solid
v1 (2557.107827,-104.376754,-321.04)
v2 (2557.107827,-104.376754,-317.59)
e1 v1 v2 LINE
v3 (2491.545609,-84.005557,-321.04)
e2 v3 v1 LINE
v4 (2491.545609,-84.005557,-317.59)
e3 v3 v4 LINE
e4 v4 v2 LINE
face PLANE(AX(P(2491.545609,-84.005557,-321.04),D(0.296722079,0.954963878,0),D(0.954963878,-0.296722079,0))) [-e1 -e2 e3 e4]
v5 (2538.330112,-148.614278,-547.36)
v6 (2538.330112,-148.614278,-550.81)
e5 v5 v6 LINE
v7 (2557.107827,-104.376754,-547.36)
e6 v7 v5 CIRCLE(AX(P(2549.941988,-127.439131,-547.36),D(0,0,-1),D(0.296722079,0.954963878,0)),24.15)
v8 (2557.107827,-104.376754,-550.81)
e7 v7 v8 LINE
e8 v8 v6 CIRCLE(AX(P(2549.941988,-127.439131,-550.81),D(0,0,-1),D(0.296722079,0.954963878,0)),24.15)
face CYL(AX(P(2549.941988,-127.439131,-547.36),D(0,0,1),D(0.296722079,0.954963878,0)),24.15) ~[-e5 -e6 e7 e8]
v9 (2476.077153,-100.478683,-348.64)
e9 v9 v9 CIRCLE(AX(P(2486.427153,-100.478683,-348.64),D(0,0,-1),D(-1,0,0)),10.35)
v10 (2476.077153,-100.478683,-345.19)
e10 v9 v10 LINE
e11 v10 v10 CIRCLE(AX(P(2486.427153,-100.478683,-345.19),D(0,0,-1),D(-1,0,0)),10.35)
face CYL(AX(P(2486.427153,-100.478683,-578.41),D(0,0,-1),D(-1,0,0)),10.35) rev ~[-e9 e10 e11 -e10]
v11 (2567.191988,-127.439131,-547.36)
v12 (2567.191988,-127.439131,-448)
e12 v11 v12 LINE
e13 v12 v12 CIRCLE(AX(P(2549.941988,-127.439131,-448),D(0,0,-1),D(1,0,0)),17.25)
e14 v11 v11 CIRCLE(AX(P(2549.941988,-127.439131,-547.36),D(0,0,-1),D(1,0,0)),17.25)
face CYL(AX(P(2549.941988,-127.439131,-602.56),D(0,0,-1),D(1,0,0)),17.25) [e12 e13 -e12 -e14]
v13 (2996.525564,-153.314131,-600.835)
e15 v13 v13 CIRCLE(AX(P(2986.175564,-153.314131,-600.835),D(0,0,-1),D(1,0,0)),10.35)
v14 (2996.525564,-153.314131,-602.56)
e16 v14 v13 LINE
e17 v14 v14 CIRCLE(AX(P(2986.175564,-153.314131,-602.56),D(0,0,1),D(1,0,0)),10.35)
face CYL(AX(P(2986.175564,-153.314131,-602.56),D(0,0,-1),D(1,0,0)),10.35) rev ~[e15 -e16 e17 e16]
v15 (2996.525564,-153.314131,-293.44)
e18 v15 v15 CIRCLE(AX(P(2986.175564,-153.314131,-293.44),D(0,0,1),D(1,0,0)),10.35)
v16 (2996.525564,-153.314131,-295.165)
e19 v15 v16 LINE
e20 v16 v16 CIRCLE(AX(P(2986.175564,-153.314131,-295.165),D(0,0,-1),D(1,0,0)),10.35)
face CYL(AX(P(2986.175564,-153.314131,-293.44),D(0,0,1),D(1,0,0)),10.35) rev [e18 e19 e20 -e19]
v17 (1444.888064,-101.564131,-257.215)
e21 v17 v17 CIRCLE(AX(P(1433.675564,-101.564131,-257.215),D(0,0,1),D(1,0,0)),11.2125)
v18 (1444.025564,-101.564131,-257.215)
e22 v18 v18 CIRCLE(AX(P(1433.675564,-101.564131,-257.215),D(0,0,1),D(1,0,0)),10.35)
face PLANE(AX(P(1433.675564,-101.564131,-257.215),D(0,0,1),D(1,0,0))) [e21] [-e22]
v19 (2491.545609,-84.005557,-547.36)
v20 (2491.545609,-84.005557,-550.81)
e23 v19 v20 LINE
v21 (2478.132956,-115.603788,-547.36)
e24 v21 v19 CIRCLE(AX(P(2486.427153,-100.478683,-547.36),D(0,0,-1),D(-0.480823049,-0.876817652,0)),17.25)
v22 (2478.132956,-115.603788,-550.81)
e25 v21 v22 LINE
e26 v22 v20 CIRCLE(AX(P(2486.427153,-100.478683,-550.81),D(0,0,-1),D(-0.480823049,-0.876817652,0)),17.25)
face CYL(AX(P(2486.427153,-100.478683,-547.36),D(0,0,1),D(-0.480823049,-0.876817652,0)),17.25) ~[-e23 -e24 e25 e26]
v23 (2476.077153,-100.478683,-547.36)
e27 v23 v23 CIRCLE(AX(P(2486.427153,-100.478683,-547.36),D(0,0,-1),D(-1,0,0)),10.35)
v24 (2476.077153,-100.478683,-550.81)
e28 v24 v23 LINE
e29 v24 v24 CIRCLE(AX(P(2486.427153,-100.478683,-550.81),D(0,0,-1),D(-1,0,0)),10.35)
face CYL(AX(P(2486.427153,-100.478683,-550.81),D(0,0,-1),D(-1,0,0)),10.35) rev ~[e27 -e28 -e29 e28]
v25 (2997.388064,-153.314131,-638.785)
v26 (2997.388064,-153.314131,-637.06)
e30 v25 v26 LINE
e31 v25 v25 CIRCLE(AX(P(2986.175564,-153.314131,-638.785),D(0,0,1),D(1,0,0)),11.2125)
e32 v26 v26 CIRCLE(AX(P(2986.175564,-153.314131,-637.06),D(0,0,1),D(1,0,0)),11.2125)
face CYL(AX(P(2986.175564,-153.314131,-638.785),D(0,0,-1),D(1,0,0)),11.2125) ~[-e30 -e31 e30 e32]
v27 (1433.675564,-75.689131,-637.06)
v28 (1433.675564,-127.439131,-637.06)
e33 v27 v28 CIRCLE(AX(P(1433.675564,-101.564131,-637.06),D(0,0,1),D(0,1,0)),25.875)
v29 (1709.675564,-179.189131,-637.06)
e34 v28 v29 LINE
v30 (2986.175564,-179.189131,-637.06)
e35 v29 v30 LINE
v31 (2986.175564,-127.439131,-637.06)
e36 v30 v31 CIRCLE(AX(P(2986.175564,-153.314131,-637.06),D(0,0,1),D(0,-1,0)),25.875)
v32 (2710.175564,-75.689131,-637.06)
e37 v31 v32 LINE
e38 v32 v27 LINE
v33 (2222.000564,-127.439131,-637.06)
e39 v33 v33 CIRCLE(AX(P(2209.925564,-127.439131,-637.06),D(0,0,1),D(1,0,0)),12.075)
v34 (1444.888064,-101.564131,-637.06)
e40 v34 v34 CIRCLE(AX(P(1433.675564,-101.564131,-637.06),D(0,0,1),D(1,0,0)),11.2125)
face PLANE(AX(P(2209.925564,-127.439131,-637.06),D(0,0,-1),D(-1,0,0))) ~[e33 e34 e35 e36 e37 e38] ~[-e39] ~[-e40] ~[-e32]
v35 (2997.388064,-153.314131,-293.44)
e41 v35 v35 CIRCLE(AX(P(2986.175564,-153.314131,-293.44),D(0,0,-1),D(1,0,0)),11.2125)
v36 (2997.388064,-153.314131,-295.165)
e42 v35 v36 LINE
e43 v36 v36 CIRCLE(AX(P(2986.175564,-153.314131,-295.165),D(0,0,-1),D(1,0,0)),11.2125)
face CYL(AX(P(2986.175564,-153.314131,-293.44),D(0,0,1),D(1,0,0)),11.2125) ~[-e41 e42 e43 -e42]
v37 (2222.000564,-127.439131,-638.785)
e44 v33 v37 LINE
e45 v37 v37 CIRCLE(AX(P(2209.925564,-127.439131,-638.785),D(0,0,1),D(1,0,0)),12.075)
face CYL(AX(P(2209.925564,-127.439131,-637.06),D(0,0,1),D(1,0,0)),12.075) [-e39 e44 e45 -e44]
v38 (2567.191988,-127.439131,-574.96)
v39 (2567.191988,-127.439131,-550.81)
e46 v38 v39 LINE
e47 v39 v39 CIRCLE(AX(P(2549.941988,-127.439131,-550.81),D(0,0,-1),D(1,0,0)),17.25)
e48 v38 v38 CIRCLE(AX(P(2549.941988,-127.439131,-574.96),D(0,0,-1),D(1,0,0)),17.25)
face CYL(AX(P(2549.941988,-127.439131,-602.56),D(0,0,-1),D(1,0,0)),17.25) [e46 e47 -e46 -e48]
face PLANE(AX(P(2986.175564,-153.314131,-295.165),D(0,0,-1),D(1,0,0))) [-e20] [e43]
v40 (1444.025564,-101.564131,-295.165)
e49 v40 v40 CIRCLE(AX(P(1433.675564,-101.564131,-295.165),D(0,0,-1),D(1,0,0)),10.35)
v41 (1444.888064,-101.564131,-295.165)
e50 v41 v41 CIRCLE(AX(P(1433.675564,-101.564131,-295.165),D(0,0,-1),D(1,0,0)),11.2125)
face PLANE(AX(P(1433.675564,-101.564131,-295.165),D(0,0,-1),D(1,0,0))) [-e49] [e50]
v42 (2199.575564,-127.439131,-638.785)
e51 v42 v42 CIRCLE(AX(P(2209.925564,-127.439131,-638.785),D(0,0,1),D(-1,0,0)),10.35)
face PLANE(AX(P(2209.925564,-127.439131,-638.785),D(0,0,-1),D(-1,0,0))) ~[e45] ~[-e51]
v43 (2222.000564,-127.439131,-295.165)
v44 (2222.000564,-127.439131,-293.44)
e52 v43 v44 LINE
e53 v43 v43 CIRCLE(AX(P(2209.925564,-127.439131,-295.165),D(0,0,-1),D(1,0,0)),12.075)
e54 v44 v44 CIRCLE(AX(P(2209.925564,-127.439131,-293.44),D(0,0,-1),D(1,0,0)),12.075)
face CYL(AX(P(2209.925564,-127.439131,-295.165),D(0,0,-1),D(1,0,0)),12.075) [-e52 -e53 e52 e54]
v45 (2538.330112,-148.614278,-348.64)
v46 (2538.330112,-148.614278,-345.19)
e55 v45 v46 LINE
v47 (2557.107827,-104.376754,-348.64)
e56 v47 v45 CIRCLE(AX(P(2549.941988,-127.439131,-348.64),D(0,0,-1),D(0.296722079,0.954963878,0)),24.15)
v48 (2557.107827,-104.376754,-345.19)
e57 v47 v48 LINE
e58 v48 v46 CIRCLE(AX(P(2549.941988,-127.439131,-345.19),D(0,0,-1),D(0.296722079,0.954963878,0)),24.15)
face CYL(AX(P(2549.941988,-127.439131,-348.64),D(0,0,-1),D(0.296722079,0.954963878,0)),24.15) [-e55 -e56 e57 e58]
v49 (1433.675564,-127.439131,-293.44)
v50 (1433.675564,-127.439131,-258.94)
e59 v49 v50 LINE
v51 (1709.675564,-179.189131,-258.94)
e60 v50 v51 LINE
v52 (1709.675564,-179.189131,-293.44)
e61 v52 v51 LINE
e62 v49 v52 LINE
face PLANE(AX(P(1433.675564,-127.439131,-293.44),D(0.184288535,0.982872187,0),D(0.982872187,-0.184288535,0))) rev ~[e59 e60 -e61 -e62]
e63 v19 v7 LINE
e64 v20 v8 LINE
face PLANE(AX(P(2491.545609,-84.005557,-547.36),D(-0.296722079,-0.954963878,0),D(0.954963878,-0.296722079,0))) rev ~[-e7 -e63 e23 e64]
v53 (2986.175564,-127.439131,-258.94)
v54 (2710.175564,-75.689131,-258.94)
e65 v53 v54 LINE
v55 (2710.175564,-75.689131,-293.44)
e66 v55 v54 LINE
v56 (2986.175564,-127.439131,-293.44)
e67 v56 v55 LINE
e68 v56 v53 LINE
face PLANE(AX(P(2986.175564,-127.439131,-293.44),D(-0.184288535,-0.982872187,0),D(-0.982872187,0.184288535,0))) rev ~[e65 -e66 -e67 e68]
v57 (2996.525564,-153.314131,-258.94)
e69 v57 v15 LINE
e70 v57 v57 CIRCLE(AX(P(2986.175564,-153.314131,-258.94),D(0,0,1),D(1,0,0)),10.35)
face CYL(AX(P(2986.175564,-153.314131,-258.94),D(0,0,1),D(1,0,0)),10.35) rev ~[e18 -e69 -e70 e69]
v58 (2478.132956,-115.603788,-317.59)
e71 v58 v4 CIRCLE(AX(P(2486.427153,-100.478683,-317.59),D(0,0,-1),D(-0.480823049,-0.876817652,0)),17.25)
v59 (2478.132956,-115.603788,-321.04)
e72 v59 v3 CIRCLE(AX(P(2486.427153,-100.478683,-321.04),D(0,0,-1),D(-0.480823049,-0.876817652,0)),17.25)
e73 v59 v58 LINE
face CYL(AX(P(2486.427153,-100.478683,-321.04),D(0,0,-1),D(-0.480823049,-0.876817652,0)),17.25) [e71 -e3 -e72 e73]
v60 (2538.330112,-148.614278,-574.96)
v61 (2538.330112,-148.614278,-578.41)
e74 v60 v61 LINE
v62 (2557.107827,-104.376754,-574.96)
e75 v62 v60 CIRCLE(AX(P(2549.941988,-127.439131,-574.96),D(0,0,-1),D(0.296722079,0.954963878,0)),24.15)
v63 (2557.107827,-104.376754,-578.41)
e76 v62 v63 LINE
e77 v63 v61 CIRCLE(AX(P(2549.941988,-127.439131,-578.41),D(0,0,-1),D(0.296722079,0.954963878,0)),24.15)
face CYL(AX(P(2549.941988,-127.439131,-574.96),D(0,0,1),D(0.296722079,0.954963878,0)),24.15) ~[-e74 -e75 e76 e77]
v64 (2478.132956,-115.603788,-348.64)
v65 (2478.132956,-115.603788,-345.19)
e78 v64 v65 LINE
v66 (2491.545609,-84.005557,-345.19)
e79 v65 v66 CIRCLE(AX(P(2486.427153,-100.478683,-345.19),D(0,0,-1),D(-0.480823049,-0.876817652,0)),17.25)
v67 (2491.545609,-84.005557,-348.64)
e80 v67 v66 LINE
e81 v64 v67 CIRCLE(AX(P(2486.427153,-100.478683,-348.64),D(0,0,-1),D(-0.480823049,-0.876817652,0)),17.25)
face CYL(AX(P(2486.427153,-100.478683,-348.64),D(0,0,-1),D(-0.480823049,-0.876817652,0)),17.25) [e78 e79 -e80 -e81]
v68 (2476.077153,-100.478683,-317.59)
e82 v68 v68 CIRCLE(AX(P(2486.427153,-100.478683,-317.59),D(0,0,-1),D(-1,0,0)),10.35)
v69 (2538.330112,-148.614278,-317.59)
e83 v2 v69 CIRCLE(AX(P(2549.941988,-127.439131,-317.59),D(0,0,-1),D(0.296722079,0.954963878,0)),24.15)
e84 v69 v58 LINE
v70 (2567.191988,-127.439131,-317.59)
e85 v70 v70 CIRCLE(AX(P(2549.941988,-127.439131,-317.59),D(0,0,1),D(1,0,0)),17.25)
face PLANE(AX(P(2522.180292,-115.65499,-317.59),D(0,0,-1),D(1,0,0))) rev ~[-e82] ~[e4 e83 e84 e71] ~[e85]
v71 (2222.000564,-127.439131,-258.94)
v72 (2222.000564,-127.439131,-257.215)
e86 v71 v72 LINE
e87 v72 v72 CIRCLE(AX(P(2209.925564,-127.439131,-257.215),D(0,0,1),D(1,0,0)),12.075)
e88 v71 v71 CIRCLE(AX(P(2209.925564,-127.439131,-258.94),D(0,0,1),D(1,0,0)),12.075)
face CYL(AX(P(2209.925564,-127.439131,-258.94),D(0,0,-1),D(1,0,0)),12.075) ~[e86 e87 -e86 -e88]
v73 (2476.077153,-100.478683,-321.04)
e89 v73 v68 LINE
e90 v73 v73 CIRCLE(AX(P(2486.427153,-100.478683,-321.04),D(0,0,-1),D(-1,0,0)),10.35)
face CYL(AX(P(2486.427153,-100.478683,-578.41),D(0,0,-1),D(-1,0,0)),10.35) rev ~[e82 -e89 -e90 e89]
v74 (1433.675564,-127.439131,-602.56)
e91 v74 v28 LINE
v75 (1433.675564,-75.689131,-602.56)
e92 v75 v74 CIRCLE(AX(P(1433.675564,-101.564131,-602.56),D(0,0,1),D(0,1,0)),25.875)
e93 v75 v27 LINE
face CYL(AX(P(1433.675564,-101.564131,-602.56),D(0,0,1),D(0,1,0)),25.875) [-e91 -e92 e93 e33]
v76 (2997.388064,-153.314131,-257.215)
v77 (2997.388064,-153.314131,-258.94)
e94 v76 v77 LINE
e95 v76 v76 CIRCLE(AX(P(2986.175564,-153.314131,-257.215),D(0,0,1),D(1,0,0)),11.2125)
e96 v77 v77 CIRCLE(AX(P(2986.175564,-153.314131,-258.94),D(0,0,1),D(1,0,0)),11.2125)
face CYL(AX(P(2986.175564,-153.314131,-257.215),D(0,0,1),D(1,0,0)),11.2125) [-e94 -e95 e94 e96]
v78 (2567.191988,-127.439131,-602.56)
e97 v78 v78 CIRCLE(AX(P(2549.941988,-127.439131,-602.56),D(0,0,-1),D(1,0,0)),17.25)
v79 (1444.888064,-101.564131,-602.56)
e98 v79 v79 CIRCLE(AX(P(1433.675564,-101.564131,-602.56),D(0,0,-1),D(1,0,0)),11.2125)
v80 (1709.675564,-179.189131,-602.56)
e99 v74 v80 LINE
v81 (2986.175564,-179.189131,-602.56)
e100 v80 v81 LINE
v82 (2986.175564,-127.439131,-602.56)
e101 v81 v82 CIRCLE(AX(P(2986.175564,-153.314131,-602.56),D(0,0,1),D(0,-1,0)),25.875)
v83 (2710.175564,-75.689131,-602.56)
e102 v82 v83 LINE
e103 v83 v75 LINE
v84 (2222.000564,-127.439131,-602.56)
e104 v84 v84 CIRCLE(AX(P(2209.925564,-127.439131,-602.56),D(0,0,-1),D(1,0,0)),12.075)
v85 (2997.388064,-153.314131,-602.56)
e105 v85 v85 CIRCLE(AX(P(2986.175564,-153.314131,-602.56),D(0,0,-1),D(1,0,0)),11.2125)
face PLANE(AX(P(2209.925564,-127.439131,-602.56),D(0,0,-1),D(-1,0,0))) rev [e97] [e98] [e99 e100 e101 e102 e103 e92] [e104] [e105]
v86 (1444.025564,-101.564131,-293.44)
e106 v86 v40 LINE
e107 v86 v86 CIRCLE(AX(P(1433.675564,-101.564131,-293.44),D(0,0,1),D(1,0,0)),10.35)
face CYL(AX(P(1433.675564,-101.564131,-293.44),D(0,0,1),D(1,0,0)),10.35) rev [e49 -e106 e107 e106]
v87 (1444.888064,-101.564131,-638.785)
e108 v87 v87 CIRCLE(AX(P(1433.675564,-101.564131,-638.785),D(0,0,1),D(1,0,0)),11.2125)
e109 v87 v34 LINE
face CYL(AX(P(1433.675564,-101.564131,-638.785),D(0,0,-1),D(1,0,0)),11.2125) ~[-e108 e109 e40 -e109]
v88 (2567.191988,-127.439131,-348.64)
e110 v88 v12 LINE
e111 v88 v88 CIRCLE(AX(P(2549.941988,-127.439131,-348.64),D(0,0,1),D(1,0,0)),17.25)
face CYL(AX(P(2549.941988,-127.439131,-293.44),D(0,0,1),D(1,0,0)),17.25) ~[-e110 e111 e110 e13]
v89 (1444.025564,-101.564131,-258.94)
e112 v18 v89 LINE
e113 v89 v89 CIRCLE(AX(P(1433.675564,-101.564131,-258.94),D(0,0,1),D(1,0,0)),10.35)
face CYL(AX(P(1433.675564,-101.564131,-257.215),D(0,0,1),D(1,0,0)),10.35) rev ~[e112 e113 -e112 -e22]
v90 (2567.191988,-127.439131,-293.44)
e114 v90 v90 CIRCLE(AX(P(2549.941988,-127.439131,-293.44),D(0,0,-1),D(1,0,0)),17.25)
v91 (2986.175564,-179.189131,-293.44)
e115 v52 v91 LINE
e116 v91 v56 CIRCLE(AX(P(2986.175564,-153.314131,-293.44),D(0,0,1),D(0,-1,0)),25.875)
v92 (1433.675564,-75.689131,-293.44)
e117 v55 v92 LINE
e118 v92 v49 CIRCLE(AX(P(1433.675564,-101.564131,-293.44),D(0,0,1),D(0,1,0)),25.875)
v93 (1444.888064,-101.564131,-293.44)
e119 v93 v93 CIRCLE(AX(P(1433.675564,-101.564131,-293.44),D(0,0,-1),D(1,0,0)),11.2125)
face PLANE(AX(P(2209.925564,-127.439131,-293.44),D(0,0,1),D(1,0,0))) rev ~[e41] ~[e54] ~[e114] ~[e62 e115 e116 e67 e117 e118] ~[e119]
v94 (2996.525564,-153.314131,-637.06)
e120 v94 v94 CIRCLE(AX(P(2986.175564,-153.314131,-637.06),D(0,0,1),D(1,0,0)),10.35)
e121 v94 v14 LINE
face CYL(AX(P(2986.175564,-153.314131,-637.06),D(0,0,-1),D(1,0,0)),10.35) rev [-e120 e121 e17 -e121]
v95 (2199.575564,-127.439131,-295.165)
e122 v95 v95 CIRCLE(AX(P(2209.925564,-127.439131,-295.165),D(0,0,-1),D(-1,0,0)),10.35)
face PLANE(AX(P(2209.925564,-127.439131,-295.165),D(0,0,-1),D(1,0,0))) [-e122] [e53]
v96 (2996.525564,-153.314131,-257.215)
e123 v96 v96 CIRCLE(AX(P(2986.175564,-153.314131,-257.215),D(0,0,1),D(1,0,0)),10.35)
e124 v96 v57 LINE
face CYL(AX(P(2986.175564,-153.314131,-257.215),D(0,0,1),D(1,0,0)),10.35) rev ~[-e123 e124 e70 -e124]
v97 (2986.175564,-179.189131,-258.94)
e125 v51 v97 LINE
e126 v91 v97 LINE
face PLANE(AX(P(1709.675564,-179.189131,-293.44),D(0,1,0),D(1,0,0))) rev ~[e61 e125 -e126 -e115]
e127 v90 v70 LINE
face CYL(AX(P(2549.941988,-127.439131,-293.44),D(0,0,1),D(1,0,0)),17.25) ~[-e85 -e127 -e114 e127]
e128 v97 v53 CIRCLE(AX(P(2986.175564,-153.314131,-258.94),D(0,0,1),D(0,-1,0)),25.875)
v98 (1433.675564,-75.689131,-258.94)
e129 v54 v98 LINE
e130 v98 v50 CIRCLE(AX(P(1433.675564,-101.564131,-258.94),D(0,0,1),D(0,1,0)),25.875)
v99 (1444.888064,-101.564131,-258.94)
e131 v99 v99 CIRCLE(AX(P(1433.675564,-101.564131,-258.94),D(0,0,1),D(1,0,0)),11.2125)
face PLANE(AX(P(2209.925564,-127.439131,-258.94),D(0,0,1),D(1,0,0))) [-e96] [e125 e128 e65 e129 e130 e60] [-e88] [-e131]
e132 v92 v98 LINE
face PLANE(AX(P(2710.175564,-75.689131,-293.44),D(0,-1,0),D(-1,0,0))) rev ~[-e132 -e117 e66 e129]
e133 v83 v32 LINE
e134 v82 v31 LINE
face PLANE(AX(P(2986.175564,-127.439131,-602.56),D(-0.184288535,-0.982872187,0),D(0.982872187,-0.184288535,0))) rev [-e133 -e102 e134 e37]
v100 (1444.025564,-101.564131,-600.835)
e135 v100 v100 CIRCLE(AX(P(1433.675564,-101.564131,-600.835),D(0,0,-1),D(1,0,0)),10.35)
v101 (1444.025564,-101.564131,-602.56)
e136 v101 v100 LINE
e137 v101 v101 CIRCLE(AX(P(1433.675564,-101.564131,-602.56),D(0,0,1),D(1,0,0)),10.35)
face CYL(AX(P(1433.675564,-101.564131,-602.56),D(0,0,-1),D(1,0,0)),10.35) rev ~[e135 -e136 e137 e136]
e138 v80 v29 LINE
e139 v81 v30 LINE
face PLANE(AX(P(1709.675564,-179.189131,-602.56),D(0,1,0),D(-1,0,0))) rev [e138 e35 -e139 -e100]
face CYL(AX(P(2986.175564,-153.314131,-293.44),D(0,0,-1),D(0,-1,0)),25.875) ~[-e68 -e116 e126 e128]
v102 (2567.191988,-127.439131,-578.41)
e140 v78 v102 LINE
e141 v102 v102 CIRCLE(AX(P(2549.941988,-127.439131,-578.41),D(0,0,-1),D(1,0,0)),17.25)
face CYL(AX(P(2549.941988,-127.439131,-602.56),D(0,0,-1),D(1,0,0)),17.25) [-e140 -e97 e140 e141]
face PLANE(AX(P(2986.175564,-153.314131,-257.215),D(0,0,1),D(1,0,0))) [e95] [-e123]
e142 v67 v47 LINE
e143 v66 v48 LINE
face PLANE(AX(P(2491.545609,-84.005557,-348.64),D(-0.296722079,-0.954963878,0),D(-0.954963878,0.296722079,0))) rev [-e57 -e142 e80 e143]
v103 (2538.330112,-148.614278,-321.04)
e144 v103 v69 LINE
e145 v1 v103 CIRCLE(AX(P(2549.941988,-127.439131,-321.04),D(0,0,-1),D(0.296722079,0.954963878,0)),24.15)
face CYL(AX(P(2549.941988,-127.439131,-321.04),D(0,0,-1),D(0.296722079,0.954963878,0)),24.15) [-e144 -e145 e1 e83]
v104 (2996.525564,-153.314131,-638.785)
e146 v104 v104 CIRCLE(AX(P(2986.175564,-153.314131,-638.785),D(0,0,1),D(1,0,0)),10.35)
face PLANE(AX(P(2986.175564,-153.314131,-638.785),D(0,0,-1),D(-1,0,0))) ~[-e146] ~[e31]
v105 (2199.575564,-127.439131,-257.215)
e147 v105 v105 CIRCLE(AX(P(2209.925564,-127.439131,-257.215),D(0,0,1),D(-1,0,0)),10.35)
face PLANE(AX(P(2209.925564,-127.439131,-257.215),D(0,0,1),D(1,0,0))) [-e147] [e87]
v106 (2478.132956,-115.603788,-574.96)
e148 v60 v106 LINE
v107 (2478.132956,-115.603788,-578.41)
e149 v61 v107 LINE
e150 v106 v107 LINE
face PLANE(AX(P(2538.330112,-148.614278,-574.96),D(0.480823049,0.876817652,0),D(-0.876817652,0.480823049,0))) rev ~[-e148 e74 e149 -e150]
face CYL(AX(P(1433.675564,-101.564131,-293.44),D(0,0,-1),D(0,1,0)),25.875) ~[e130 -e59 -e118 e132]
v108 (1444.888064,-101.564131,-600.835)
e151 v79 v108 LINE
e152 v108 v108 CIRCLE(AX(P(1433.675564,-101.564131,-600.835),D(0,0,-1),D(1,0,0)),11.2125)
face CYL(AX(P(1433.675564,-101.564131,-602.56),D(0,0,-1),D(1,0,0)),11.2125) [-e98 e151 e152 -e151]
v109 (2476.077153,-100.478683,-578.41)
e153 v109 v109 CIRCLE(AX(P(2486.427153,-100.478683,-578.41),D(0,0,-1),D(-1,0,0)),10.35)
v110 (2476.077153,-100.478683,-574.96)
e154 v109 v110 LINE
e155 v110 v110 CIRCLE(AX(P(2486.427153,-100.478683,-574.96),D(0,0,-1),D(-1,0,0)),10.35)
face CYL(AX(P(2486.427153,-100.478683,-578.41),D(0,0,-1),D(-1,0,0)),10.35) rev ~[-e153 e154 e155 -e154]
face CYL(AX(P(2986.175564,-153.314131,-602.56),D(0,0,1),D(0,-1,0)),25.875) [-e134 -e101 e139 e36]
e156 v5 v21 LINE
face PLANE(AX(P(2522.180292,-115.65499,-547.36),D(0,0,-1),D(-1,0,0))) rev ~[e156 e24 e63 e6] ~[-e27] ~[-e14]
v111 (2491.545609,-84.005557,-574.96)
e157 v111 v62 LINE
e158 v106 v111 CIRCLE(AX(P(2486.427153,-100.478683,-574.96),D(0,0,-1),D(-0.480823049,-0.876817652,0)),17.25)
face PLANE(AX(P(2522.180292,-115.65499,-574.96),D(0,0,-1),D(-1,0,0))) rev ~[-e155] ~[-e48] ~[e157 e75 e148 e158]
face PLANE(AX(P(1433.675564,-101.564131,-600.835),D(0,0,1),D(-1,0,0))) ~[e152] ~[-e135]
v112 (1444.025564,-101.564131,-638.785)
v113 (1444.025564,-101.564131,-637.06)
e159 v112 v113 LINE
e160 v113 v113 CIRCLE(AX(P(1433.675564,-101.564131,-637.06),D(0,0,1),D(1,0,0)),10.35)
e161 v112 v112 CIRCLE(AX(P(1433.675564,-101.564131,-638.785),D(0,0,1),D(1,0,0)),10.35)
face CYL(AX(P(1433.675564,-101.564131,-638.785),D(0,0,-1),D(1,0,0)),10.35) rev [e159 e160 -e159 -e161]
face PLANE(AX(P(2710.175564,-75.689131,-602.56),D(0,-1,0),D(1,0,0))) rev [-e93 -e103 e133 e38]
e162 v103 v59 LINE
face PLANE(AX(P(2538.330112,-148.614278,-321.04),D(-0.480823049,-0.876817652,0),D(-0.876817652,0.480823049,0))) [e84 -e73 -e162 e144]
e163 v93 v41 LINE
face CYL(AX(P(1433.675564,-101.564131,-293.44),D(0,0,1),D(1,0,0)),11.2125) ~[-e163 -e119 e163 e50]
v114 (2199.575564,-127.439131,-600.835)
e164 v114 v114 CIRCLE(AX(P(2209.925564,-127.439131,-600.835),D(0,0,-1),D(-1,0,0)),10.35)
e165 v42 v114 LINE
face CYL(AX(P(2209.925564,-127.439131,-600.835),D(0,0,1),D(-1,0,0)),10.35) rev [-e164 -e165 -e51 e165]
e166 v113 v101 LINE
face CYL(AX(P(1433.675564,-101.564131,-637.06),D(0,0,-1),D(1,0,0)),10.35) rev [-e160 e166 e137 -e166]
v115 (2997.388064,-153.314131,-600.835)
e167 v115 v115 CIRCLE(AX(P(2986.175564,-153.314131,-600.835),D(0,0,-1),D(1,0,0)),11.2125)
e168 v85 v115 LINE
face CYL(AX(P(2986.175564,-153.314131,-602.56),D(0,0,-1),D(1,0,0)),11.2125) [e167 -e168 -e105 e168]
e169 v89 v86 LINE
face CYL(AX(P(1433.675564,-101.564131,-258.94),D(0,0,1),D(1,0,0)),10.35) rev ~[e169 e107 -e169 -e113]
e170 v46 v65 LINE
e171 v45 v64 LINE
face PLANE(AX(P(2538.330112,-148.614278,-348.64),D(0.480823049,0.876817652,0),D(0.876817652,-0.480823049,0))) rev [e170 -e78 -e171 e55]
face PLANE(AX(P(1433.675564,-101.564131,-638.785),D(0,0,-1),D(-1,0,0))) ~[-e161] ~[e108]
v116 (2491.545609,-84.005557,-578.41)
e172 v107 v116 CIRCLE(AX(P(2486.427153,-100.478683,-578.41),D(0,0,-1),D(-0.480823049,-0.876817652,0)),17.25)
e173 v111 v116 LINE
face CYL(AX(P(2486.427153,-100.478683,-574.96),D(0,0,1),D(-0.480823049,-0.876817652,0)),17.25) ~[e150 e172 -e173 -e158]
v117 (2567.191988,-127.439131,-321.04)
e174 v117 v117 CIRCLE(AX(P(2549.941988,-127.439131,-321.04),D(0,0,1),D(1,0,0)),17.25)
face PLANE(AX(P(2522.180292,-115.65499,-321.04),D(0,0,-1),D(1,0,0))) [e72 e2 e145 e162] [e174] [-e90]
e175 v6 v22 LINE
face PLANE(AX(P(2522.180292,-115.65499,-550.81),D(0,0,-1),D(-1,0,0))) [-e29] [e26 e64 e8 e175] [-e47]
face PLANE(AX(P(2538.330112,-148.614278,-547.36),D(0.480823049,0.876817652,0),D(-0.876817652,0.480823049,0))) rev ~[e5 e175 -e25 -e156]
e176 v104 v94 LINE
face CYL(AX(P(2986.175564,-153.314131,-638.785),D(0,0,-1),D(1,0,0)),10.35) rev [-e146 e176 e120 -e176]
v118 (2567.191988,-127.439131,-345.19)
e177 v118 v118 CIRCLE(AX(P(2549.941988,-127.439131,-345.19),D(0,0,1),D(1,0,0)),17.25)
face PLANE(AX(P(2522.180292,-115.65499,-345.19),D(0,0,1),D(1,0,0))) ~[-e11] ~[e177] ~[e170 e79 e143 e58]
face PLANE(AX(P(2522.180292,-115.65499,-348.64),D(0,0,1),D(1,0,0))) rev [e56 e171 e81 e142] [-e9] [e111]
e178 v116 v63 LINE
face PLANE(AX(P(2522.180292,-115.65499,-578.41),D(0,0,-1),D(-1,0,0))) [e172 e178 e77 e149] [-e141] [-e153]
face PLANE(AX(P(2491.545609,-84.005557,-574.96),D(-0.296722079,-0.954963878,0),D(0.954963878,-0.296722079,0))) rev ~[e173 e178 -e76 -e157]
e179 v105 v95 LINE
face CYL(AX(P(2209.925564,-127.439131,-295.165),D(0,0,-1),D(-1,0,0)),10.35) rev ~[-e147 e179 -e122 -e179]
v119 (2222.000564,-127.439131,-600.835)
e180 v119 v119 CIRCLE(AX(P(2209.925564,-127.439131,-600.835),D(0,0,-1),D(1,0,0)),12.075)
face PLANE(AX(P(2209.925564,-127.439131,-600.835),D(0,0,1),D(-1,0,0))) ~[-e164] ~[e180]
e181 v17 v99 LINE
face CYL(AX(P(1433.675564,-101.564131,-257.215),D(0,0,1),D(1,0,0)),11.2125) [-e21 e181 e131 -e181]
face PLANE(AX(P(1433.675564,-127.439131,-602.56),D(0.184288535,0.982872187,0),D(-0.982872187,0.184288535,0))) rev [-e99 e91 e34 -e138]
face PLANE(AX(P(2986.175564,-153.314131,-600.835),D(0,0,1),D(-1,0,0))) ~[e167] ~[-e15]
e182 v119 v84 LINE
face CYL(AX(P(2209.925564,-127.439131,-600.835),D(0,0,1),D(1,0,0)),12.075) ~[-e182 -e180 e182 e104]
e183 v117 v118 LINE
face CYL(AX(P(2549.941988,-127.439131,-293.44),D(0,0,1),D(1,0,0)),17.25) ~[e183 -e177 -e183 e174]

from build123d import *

# Parameters (mm, degrees)
EXTRUDE_1_DEPTH        = 100
SKETCH_2_R             = 30
CUT_EXTRUDE_1_DEPTH    = 100
SKETCH_3_R             = 32.5
SKETCH_3_R_2           = 30
EXTRUDE_2_DEPTH        = 5
EXTRUDE_START          = 5
SKETCH_4_R             = 32.5
SKETCH_4_R_2           = 30
EXTRUDE_3_DEPTH        = 5
SKETCH_5_R             = 30
CUT_EXTRUDE_3_DEPTH    = 552
SKETCH_6_R             = 35
SKETCH_6_R_2           = 30
EXTRUDE_4_DEPTH        = 5
SKETCH_7_R             = 35
SKETCH_7_R_2           = 30
EXTRUDE_5_DEPTH        = 5
SKETCH_8_R             = 50
EXTRUDE_6_DEPTH        = 448
EXTRUDE_7_DEPTH        = 10
SKETCH_10_R            = 30
CUT_EXTRUDE_4_DEPTH    = 10
PATTERN_LINEAR_1_COUNT = 2
PATTERN_LINEAR_1_PITCH = 80
MIRROR_2_COPY_1_DEPTH  = 10
SKETCH_11_R            = 30
CUT_EXTRUDE_5_DEPTH    = 800
SCALE1_SCALE           = 0.345


with BuildPart() as part:
    # 草图1 → 凸台-拉伸1 (new body)
    with BuildSketch(Plane.XY):
        with BuildLine():
            Line((-60.1323511, -127.533248731), (739.8676489, -277.533248731))
            Line((739.8676489, -277.533248731), (4439.8676489, -277.533248731))
            ThreePointArc((4439.8676489, -277.533248731), (4514.8676489, -202.533248731), (4439.8676489, -127.533248731))
            Line((4439.8676489, -127.533248731), (3639.8676489, 22.466751269))
            Line((3639.8676489, 22.466751269), (-60.1323511, 22.466751269))
            ThreePointArc((-60.1323511, 22.466751269), (-135.1323511, -52.533248731), (-60.1323511, -127.533248731))
        make_face()
    extrude(amount=EXTRUDE_1_DEPTH)

    # 草图2 → 切除-拉伸1 (cut)
    with BuildSketch(Plane.XY.offset(100)):
        with Locations((-60.1323511, -52.533248731)):
            Circle(SKETCH_2_R)
        with Locations((4439.8676489, -202.533248731)):
            Circle(SKETCH_2_R)
    extrude(amount=-CUT_EXTRUDE_1_DEPTH, mode=Mode.SUBTRACT)

    # 草图3 → 凸台-拉伸2 (add)
    # profile 1 of 2: a face of its own
    with BuildSketch(Plane(origin=(0, 0, 0), x_dir=(-1, 0, 0), z_dir=(0, 0, -1))):
        with Locations(Location((-4439.8676489, -202.533248731, 0), (0, 0, 180))):
            Circle(SKETCH_3_R)
        with Locations(Location((-4439.8676489, -202.533248731, 0), (0, 0, 180))):
            Circle(SKETCH_3_R_2, mode=Mode.SUBTRACT)
    # profile 2 of 2: a face of its own
    with BuildSketch(Plane(origin=(0, 0, 0), x_dir=(-1, 0, 0), z_dir=(0, 0, -1))):
        with Locations(Location((60.1323511, -52.533248731, 0), (0, 0, 180))):
            Circle(SKETCH_3_R)
        with Locations(Location((60.1323511, -52.533248731, 0), (0, 0, 180))):
            Circle(SKETCH_3_R_2, mode=Mode.SUBTRACT)
    extrude(amount=EXTRUDE_2_DEPTH)

    # 草图4 → 凸台-拉伸3 (add)
    # profile 1 of 2: a face of its own
    with BuildSketch(Plane.XY.offset(100).offset(EXTRUDE_START)):
        with Locations((-60.1323511, -52.533248731)):
            Circle(SKETCH_4_R)
        with Locations((-60.1323511, -52.533248731)):
            Circle(SKETCH_4_R_2, mode=Mode.SUBTRACT)
    # profile 2 of 2: a face of its own
    with BuildSketch(Plane.XY.offset(100).offset(EXTRUDE_START)):
        with Locations((4439.8676489, -202.533248731)):
            Circle(SKETCH_4_R)
        with Locations((4439.8676489, -202.533248731)):
            Circle(SKETCH_4_R_2, mode=Mode.SUBTRACT)
    extrude(amount=-EXTRUDE_3_DEPTH)

    # 草图5 → 切除-拉伸3 (cut)
    with BuildSketch(Plane(origin=(0, 0, 0), x_dir=(-1, 0, 0), z_dir=(0, 0, -1))):
        with Locations((-2189.8676489, -127.533248731)):
            Circle(SKETCH_5_R)
    extrude(amount=-CUT_EXTRUDE_3_DEPTH, mode=Mode.SUBTRACT)

    # 草图6 → 凸台-拉伸4 (add)
    with BuildSketch(Plane.XY.offset(100)):
        with Locations((2189.8676489, -127.533248731)):
            Circle(SKETCH_6_R)
        with Locations(Location((2189.8676489, -127.533248731, 0), (0, 0, 180))):
            Circle(SKETCH_6_R_2, mode=Mode.SUBTRACT)
    extrude(amount=EXTRUDE_4_DEPTH)

    # 草图7 → 凸台-拉伸5 (add)
    with BuildSketch(Plane(origin=(0, 0, 0), x_dir=(-1, 0, 0), z_dir=(0, 0, -1)).offset(EXTRUDE_START)):
        with Locations(Location((-2189.8676489, -127.533248731, 0), (0, 0, 180))):
            Circle(SKETCH_7_R)
        with Locations((-2189.8676489, -127.533248731)):
            Circle(SKETCH_7_R_2, mode=Mode.SUBTRACT)
    extrude(amount=-EXTRUDE_5_DEPTH)

    # 草图8 → 凸台-拉伸6 (add)
    with BuildSketch(Plane(origin=(0, 0, 0), x_dir=(-1, 0, 0), z_dir=(0, 0, -1))):
        with Locations(Location((-3175.422502192, -127.533248731, 0), (0, 0, 180))):
            Circle(SKETCH_8_R)
    extrude(amount=EXTRUDE_6_DEPTH)

    # 镜向1: part across plane


with BuildPart() as part_1:
    add(part.part)
    add(part.part.mirror(Plane(origin=(3175.422502192, -127.533248731, -448), x_dir=(1, 0, 0), z_dir=(0, 0, -1))))

    # 草图9 → 凸台-拉伸7 (add)
    with BuildSketch(Plane(origin=(0, 0, -736), x_dir=(-1, 0, 0), z_dir=(0, 0, -1))):
        with BuildLine():
            Line((-3006.157635441, -1.638829142), (-3196.193047707, -60.685777283))
            ThreePointArc((-3196.193047707, -60.685777283), (-3239.857841934, -154.884427725), (-3141.764888729, -188.91048438))
            Line((-3141.764888729, -188.91048438), (-2967.280379028, -93.22790564))
            ThreePointArc((-2967.280379028, -93.22790564), (-2945.296288829, -29.850466609), (-3006.157635441, -1.638829142))
        make_face()
    extrude_7 = extrude(amount=EXTRUDE_7_DEPTH)

    # 草图10 → 切除-拉伸4 (cut)
    with BuildSketch(Plane(origin=(0, 0, -746), x_dir=(-1, 0, 0), z_dir=(0, 0, -1))):
        with Locations((-2991.321531502, -49.387023033)):
            Circle(SKETCH_10_R)
    extrude(amount=-CUT_EXTRUDE_4_DEPTH, mode=Mode.SUBTRACT)

    # 阵列(线性)1: 凸台-拉伸7 ×2
    with Locations(*[(0, 0, -i * PATTERN_LINEAR_1_PITCH) for i in range(1, PATTERN_LINEAR_1_COUNT)]):
        add(extrude_7)

    # 镜向2: 凸台-拉伸7 across plane
    add(extrude_7.mirror(Plane(origin=(0, 0, -448), x_dir=(1, 0, 0), z_dir=(0, 0, -1))))

    # 镜向2 copy 1 sketch → 镜向2 copy 1 (add)
    with BuildSketch(Plane(origin=(0, 0, -80), x_dir=(-1, 0, 0), z_dir=(0, 0, 1))):
        with BuildLine():
            Line((-3006.157635441, 1.638829142), (-3196.193047707, 60.685777283))
            ThreePointArc((-3196.193047707, 60.685777283), (-3239.857841934, 154.884427725), (-3141.764888729, 188.91048438))
            Line((-3141.764888729, 188.91048438), (-2967.280379028, 93.22790564))
            ThreePointArc((-2967.280379028, 93.22790564), (-2945.296288829, 29.850466609), (-3006.157635441, 1.638829142))
        make_face()
    extrude(amount=MIRROR_2_COPY_1_DEPTH)

    # 草图11 → 切除-拉伸5 (cut)
    with BuildSketch(Plane(origin=(0, 0, -826), x_dir=(-1, 0, 0), z_dir=(0, 0, -1))):
        with Locations((-2991.321531502, -49.387023033)):
            Circle(SKETCH_11_R)
    extrude(amount=-CUT_EXTRUDE_5_DEPTH, mode=Mode.SUBTRACT)


with BuildPart() as part_2:
    # Scale1: scaled about (2220.490419966, -127.389558081, -448)
    add(part_1.part.scale(SCALE1_SCALE).moved(Location((1454.421225078, -83.440160543, -293.44))))


solid = part_2.part
